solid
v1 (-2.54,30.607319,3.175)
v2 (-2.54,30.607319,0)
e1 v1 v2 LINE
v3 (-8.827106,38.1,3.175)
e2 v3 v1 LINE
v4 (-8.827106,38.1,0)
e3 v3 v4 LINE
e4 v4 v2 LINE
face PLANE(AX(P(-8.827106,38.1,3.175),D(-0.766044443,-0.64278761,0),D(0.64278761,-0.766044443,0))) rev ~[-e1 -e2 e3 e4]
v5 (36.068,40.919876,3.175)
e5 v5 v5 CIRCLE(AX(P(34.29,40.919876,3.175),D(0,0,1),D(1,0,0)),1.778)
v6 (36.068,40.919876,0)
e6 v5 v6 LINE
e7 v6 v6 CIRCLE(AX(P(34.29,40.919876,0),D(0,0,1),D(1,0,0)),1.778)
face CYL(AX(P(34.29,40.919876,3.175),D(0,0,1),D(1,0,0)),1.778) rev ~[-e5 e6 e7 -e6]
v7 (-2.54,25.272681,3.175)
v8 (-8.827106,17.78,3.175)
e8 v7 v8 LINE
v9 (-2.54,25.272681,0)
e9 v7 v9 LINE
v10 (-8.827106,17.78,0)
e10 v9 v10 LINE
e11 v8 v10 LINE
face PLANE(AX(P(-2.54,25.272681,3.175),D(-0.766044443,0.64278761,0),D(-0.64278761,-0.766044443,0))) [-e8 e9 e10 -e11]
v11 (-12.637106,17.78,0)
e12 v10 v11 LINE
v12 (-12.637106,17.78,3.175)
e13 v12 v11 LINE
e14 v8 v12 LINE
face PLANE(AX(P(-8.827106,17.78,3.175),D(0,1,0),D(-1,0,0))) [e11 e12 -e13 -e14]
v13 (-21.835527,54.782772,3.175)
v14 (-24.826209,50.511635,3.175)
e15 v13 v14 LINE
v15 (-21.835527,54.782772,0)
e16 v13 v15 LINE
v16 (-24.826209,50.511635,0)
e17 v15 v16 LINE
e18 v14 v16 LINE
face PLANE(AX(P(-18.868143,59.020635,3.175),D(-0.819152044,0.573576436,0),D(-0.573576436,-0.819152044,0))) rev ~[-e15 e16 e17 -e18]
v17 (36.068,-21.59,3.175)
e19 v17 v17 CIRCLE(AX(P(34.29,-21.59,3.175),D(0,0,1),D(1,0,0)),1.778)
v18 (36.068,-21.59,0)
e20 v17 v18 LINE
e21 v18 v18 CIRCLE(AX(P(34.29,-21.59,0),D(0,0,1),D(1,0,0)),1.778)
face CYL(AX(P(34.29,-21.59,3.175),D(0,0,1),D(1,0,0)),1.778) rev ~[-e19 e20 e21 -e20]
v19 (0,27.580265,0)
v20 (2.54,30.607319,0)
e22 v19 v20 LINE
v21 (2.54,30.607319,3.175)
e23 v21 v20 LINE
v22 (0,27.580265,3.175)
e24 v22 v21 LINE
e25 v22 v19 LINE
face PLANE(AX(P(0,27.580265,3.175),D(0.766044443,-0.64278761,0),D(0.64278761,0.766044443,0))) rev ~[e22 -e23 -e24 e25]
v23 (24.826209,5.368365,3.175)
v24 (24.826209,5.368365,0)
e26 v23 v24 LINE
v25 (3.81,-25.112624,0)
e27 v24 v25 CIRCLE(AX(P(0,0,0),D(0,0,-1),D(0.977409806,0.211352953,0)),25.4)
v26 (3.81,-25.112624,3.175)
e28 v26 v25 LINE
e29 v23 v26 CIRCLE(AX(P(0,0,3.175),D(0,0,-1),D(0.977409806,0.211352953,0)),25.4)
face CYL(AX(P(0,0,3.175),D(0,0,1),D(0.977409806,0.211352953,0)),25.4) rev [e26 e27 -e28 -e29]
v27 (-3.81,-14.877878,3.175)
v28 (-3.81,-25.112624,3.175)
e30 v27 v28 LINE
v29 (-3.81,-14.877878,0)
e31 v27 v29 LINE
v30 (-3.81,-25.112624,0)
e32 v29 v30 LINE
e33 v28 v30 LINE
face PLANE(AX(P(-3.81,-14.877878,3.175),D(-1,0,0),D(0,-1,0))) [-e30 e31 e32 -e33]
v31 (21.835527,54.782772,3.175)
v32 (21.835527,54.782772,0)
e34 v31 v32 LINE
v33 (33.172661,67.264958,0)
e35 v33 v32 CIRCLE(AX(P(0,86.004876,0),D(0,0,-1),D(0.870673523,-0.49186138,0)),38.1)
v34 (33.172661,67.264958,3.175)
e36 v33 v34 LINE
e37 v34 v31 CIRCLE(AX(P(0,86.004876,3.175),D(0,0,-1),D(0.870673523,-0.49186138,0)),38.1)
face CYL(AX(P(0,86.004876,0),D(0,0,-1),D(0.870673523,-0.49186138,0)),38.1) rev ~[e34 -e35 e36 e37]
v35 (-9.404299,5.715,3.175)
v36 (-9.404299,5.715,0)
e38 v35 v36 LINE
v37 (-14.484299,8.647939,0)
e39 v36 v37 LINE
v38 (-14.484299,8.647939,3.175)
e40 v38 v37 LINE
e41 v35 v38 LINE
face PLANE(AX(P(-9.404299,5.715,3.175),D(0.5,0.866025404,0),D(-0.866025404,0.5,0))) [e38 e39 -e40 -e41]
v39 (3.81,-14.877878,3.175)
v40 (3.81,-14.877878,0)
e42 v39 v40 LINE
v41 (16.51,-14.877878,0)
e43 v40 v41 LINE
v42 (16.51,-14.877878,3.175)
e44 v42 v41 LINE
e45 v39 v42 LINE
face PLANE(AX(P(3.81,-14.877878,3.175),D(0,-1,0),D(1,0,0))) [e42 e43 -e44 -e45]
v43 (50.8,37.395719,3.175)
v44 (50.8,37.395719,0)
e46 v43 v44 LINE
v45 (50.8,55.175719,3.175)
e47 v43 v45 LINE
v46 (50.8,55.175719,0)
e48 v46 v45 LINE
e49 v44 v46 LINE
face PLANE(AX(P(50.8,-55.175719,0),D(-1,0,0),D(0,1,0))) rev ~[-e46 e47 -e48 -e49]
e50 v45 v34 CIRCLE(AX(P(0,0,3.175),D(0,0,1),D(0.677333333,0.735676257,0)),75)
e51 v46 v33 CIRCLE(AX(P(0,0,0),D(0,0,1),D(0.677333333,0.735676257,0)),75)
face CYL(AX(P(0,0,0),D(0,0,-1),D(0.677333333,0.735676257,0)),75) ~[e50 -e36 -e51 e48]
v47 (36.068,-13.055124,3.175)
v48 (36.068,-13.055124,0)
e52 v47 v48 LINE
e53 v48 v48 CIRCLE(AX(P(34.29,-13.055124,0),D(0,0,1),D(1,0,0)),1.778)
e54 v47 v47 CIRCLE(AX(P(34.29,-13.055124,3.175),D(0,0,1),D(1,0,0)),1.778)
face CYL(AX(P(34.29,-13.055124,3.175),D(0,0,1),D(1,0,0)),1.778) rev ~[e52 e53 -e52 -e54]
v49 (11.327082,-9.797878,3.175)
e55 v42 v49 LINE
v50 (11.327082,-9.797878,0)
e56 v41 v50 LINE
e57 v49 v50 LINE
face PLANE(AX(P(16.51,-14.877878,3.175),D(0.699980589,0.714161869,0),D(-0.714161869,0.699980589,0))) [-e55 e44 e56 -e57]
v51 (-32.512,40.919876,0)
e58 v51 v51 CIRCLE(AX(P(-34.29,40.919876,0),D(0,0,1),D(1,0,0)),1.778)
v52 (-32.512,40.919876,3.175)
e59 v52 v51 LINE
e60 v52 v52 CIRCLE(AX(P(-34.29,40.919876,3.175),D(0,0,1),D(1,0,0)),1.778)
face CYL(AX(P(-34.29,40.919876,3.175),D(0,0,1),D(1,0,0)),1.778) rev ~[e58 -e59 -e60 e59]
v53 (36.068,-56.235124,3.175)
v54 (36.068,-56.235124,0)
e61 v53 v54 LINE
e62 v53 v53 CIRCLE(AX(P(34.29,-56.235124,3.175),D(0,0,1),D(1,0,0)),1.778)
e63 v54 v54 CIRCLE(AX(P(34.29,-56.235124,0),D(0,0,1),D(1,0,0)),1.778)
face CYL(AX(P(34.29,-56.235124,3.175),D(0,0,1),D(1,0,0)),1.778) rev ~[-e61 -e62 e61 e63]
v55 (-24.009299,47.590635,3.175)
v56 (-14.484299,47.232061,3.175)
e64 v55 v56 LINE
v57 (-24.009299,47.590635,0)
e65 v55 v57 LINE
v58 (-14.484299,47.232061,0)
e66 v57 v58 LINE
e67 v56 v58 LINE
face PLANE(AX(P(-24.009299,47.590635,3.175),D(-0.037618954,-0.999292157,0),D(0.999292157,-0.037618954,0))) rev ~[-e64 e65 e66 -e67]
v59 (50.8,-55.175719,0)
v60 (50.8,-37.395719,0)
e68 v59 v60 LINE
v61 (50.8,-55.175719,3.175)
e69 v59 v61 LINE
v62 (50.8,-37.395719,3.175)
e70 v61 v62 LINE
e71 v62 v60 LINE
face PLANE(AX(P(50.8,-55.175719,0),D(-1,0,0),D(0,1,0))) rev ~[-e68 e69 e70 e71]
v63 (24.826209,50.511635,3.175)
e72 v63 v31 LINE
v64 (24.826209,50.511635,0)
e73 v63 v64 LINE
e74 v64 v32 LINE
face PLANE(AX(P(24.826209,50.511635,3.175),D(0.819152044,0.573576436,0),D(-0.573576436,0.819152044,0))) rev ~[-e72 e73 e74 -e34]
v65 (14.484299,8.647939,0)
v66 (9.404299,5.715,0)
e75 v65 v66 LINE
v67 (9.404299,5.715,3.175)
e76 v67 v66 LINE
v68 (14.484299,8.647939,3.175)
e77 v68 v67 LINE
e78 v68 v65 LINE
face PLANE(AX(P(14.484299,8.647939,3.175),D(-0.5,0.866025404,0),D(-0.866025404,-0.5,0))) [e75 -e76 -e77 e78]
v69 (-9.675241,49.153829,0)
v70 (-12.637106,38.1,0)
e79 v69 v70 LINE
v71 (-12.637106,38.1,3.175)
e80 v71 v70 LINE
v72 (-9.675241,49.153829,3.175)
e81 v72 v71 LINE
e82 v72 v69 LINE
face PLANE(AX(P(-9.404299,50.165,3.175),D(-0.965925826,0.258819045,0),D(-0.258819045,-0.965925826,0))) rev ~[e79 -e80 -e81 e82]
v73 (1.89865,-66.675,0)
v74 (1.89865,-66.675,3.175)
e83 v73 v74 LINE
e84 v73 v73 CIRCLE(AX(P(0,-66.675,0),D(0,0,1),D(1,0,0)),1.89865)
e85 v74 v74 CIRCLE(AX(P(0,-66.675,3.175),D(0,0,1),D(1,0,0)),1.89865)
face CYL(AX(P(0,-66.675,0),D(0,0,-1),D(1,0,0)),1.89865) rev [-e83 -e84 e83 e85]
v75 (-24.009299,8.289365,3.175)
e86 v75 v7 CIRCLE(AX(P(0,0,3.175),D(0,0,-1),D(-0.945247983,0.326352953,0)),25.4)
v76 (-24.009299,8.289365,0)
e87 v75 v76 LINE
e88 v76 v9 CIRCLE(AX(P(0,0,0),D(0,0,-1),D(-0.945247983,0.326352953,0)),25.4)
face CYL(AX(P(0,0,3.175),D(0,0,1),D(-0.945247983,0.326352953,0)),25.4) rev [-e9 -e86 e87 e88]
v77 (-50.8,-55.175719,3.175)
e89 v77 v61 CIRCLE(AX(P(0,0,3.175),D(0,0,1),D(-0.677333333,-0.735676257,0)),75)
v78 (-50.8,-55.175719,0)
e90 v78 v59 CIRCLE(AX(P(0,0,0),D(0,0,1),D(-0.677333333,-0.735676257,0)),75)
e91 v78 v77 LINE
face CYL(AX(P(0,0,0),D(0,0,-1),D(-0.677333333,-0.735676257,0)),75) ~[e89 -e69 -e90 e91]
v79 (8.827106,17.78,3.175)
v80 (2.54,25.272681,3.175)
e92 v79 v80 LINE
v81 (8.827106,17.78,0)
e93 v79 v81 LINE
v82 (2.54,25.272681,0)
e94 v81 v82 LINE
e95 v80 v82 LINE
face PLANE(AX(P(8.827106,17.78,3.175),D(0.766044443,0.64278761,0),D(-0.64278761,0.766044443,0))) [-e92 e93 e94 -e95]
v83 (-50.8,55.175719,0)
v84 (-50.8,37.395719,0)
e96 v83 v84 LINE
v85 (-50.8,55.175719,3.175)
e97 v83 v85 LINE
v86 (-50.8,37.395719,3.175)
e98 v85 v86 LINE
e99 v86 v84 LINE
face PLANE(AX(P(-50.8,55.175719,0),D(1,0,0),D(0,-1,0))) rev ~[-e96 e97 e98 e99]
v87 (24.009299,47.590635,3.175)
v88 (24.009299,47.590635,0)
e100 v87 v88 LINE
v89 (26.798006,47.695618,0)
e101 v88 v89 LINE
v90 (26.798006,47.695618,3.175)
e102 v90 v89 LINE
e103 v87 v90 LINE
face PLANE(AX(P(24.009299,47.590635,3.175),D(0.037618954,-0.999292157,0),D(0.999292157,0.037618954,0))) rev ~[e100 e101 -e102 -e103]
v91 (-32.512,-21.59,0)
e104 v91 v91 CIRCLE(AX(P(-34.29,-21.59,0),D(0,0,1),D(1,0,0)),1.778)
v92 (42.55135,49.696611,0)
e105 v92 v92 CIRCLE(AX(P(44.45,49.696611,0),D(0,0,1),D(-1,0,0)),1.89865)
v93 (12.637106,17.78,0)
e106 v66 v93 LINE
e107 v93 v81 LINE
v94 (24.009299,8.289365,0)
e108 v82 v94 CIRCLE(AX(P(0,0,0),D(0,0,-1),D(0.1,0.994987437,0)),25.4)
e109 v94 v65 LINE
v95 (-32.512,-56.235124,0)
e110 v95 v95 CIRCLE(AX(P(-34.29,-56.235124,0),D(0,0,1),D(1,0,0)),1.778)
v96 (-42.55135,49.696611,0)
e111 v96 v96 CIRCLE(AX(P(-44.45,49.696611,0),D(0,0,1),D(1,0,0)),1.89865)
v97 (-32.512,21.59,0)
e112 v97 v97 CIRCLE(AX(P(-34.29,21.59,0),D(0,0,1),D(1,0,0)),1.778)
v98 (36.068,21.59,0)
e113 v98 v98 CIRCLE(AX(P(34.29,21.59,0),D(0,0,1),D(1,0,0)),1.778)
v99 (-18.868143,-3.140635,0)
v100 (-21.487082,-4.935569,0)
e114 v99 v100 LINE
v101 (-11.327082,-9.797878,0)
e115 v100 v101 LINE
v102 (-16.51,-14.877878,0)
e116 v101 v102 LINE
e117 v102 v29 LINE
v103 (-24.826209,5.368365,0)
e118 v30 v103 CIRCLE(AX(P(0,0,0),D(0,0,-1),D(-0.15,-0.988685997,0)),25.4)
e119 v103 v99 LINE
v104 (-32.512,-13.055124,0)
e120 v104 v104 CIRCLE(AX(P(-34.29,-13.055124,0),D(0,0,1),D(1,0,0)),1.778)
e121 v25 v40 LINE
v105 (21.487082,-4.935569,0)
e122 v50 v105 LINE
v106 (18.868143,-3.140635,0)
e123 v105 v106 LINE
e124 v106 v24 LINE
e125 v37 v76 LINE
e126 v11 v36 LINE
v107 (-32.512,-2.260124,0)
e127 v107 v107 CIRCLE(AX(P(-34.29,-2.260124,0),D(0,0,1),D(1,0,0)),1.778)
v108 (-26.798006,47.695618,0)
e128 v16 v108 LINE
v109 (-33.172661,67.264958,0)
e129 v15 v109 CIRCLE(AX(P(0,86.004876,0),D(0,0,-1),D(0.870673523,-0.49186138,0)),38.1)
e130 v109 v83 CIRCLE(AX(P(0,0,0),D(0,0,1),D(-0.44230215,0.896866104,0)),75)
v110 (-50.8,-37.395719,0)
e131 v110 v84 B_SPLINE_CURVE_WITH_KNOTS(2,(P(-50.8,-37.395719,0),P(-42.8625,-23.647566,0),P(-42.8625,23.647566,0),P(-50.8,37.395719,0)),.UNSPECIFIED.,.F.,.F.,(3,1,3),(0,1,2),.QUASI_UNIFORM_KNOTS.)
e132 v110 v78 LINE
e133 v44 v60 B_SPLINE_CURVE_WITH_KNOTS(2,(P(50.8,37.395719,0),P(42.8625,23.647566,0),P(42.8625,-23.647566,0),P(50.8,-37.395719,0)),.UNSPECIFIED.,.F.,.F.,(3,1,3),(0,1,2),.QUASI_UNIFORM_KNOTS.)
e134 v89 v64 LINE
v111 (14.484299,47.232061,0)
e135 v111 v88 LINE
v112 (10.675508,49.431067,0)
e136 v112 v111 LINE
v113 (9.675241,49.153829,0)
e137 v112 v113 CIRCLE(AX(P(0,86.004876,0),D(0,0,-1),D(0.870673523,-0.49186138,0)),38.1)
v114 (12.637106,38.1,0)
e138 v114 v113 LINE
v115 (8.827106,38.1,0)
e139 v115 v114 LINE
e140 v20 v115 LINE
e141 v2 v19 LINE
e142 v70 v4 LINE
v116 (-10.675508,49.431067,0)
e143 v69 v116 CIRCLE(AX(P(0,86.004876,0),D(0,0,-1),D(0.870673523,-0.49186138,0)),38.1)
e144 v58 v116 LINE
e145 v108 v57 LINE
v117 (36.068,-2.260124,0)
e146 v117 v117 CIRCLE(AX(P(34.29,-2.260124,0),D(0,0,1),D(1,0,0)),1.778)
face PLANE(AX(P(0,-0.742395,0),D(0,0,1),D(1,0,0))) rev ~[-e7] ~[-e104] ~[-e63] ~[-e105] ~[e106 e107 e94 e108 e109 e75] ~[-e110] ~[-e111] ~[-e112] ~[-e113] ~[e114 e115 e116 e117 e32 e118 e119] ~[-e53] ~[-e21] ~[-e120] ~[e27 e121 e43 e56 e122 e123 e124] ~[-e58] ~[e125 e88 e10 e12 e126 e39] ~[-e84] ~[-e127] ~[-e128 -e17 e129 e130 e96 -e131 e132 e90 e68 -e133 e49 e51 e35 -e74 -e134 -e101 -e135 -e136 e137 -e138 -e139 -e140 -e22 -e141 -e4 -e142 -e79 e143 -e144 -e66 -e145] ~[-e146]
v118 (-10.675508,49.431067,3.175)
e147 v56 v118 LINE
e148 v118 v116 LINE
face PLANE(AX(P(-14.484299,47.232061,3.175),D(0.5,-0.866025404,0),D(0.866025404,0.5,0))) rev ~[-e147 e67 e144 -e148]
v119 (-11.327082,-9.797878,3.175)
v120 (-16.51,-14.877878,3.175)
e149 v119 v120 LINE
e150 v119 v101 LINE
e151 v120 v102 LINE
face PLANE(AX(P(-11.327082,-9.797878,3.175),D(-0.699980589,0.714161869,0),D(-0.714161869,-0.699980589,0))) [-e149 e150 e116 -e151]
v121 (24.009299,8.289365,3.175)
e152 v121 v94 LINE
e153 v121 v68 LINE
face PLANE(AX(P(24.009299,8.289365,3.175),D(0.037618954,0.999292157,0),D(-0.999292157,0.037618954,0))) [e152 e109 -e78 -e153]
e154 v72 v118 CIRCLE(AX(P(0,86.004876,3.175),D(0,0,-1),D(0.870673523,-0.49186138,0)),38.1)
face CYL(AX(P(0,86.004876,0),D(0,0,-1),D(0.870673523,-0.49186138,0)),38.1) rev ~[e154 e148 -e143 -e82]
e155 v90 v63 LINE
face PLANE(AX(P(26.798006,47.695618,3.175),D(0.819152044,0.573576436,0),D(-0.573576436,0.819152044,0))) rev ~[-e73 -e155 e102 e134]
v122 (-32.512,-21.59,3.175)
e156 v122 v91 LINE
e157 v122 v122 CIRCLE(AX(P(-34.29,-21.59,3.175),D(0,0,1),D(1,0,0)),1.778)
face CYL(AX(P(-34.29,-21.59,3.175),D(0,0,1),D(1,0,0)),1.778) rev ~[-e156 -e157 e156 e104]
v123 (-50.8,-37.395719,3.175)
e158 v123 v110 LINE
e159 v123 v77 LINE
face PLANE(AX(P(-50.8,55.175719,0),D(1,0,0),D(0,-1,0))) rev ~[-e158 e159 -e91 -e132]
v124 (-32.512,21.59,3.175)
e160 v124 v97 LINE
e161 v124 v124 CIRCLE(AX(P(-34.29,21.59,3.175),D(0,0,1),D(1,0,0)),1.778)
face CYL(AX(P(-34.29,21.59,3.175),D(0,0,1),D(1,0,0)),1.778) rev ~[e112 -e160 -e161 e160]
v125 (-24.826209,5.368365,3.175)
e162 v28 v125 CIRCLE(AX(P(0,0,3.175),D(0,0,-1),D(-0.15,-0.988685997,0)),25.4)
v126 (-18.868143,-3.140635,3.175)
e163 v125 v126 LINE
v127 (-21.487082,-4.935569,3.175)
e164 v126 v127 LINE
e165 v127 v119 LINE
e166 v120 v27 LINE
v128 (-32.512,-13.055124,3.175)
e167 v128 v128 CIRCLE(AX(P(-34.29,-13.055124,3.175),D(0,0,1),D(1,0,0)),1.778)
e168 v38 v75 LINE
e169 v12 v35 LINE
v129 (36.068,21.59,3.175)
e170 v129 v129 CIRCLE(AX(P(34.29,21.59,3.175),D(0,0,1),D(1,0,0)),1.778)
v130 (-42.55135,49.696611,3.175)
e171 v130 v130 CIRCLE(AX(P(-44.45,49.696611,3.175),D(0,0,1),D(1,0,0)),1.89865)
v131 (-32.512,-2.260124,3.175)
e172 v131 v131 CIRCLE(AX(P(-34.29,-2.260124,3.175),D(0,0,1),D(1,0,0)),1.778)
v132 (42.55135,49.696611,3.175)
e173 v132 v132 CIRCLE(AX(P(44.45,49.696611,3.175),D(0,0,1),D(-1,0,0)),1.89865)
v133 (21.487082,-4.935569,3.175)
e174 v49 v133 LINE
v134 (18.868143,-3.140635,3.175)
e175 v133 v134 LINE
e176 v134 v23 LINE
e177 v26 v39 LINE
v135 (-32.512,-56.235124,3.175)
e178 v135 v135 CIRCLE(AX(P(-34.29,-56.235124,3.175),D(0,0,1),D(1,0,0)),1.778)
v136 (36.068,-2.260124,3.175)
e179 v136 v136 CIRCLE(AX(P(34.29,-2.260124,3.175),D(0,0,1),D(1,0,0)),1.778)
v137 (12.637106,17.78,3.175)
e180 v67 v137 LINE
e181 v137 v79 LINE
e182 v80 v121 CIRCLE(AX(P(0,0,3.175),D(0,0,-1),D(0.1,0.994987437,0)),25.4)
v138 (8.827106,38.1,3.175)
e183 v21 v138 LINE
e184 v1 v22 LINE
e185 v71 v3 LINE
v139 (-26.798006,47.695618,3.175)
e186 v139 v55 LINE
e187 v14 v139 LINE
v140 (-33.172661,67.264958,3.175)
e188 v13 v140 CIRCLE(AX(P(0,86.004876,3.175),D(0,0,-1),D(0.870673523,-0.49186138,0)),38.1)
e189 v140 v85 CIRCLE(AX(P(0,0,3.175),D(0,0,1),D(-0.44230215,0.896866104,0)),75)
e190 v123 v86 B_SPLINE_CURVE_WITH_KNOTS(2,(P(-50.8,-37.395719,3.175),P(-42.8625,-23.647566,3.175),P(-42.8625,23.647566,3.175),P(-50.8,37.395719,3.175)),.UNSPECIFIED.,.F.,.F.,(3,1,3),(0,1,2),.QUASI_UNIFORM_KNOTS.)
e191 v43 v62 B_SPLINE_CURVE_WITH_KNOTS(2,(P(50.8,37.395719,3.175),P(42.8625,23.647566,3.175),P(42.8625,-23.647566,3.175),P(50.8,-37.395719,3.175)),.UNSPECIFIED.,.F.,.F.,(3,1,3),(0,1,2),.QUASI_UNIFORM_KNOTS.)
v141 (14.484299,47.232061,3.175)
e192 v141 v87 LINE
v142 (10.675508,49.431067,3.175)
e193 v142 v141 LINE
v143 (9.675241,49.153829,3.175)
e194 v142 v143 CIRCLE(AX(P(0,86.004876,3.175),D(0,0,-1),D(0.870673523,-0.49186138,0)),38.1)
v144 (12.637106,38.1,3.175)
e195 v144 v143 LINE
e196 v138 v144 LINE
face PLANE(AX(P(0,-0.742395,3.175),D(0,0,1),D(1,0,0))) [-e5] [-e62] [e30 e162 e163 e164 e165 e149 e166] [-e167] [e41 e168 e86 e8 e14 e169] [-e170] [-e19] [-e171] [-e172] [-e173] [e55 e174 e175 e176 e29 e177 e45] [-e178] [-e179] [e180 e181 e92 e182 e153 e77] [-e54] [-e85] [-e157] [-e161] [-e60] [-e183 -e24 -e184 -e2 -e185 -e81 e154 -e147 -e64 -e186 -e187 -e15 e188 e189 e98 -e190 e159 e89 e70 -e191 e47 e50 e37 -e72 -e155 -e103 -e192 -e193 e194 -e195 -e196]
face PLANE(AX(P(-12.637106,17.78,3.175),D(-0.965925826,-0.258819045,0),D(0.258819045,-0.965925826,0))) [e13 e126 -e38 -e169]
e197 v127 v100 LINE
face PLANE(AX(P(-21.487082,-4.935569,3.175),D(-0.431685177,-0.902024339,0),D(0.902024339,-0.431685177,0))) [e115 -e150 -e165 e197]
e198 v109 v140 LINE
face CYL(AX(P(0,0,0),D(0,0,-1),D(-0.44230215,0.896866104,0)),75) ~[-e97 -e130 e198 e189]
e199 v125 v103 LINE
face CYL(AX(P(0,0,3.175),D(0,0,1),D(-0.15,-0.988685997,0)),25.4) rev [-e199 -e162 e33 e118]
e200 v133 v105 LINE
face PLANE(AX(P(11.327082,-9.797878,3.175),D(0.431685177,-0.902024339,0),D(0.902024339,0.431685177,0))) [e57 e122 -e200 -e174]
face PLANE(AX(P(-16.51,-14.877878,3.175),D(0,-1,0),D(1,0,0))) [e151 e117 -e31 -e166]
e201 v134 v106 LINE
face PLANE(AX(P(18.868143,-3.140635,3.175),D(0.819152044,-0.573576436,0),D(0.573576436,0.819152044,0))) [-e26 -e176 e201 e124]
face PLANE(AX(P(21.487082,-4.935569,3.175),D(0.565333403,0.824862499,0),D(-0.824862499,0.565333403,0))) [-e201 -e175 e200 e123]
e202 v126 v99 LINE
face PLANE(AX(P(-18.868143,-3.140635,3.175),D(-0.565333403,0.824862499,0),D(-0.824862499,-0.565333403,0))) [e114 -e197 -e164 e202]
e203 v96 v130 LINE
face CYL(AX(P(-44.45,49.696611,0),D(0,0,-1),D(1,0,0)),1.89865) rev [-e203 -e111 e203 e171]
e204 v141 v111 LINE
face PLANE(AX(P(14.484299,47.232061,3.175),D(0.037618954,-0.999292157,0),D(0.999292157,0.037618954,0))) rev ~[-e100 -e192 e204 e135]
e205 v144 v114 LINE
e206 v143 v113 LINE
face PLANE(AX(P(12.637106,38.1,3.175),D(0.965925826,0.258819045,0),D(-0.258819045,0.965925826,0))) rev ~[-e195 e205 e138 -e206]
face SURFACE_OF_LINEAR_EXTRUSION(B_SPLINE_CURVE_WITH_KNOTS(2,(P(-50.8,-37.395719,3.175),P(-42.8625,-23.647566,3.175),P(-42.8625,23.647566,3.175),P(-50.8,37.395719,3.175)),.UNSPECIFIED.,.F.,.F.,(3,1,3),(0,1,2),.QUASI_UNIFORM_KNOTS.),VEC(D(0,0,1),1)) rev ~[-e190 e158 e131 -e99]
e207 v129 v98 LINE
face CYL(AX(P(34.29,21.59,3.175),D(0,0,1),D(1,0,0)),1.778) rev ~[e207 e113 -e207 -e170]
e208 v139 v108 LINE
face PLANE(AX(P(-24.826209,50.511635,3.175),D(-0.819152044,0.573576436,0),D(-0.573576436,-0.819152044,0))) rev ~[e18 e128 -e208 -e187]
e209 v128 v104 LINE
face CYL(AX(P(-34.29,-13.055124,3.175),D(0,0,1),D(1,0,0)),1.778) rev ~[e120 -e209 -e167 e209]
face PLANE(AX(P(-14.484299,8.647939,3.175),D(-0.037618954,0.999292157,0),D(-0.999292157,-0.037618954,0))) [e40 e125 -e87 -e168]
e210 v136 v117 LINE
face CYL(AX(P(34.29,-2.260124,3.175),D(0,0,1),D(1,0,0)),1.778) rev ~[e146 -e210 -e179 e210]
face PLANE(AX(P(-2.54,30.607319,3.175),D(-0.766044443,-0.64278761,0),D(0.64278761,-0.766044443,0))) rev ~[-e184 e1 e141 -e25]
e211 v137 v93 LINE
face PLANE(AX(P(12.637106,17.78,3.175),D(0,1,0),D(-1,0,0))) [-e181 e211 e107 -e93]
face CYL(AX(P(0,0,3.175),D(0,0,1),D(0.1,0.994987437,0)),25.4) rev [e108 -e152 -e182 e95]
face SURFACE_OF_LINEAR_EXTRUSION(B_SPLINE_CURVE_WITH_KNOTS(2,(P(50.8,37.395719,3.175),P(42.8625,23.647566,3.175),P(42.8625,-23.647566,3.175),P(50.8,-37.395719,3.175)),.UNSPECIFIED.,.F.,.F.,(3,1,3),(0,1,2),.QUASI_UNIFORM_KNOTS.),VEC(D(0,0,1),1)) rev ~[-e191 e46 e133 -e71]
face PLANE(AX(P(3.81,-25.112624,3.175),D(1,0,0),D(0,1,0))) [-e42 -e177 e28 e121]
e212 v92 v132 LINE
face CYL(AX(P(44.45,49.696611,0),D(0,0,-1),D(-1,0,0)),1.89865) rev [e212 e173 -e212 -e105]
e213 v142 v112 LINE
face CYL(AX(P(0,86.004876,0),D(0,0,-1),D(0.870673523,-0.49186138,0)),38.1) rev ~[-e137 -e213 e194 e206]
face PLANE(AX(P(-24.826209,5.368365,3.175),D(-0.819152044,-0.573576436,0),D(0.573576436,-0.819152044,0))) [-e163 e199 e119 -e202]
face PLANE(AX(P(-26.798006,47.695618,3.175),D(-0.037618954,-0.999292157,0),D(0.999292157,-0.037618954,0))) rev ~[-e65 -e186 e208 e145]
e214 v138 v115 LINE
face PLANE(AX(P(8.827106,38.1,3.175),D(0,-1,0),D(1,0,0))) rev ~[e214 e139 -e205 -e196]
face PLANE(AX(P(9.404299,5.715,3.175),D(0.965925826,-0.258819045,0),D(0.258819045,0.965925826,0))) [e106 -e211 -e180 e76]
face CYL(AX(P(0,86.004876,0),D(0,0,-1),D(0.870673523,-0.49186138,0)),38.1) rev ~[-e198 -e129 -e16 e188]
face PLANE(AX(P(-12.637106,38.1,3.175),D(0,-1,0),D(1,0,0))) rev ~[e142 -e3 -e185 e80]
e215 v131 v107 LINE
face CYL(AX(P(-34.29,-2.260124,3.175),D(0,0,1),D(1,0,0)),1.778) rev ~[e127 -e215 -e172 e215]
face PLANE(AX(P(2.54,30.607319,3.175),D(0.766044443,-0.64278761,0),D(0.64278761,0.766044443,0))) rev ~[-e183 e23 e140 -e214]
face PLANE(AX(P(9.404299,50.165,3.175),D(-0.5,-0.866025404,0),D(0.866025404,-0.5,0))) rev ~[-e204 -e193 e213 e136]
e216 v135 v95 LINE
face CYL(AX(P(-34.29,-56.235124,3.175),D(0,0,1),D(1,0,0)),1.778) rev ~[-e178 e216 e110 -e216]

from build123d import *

# Parameters (mm, degrees)
SKETCH1_R           = 1.89865
BOSS_EXTRUDE3_DEPTH = 3.175
CUT_EXTRUDE2_DEPTH  = 3.175
SKETCH4_R           = 1.778
CUT_EXTRUDE3_DEPTH  = 3.175
SKETCH5_R           = 1.778
CUT_EXTRUDE4_DEPTH  = 3.175
CUT_EXTRUDE5_DEPTH  = 3.175
CUT_EXTRUDE6_DEPTH  = 3.175


with BuildPart() as part:
    # Sketch1 → Boss-Extrude3 (new body)
    with BuildSketch(Plane.XY):
        with BuildLine():
            Line((-50.8, 55.175719298), (-50.8, -55.175719298))
            ThreePointArc((-50.8, -55.175719298), (0, -75), (50.8, -55.175719298))
            Line((50.8, -55.175719298), (50.8, 55.175719298))
            ThreePointArc((50.8, 55.175719298), (42.419210034, 61.851520758), (33.172661219, 67.264957799))
            ThreePointArc((33.172661219, 67.264957799), (0, 47.904876359), (-33.172661219, 67.264957799))
            ThreePointArc((-33.172661219, 67.264957799), (-42.419210034, 61.851520758), (-50.8, 55.175719298))
        make_face()
        with Locations((0, -66.675)):
            Circle(SKETCH1_R, mode=Mode.SUBTRACT)
        with Locations((-44.45, 49.6966108)):
            Circle(SKETCH1_R, mode=Mode.SUBTRACT)
        with Locations(Location((44.45, 49.6966108, 0), (0, 0, 180))):
            Circle(SKETCH1_R, mode=Mode.SUBTRACT)
    extrude(amount=BOSS_EXTRUDE3_DEPTH)

    # Sketch3 → Cut-Extrude2 (cut)
    with BuildSketch(Plane.XY.offset(3.175)):
        with BuildLine():
            Line((8.827105782, 17.78), (2.54, 25.272680903))
            ThreePointArc((2.54, 25.272680903), (15.758317518, 19.920728626), (24.009298775, 8.289365013))
            Line((24.009298775, 8.289365013), (14.484298775, 8.647939367))
            Line((14.484298775, 8.647939367), (9.404298775, 5.715))
            Line((9.404298775, 5.715), (12.637105782, 17.78))
            Line((12.637105782, 17.78), (8.827105782, 17.78))
        make_face()
        with BuildLine():
            Line((18.868143133, -3.140634987), (24.826209076, 5.368365013))
            ThreePointArc((24.826209076, 5.368365013), (20.911260009, -14.418016674), (3.81, -25.112624315))
            Line((3.81, -25.112624315), (3.81, -14.877877919))
            Line((3.81, -14.877877919), (16.51, -14.877877919))
            Line((16.51, -14.877877919), (11.327081569, -9.797877919))
            Line((11.327081569, -9.797877919), (21.487081569, -4.935568543))
            Line((21.487081569, -4.935568543), (18.868143133, -3.140634987))
        make_face()
        with BuildLine():
            Line((-3.81, -14.877877919), (-3.81, -25.112624315))
            ThreePointArc((-3.81, -25.112624315), (-20.911260009, -14.418016674), (-24.826209076, 5.368365013))
            Line((-24.826209076, 5.368365013), (-18.868143133, -3.140634987))
            Line((-18.868143133, -3.140634987), (-21.487081569, -4.935568543))
            Line((-21.487081569, -4.935568543), (-11.327081569, -9.797877919))
            Line((-11.327081569, -9.797877919), (-16.51, -14.877877919))
            Line((-16.51, -14.877877919), (-3.81, -14.877877919))
        make_face()
        with BuildLine():
            Line((-14.484298775, 8.647939367), (-24.009298775, 8.289365013))
            ThreePointArc((-24.009298775, 8.289365013), (-15.758317518, 19.920728626), (-2.54, 25.272680903))
            Line((-2.54, 25.272680903), (-8.827105782, 17.78))
            Line((-8.827105782, 17.78), (-12.637105782, 17.78))
            Line((-12.637105782, 17.78), (-9.404298775, 5.715))
            Line((-9.404298775, 5.715), (-14.484298775, 8.647939367))
        make_face()
    extrude(amount=-CUT_EXTRUDE2_DEPTH, mode=Mode.SUBTRACT)

    # Sketch4 → Cut-Extrude3 (cut)
    with BuildSketch(Plane.XY.offset(3.175)):
        with Locations((-34.29, 40.919876359)):
            Circle(SKETCH4_R)
        with Locations((34.29, 40.919876359)):
            Circle(SKETCH4_R)
        with Locations((34.29, -2.260123641)):
            Circle(SKETCH4_R)
        with Locations((-34.29, -2.260123641)):
            Circle(SKETCH4_R)
        with Locations((-34.29, -13.055123641)):
            Circle(SKETCH4_R)
        with Locations((34.29, -13.055123641)):
            Circle(SKETCH4_R)
        with Locations((34.29, -56.235123641)):
            Circle(SKETCH4_R)
        with Locations((-34.29, -56.235123641)):
            Circle(SKETCH4_R)
    extrude(amount=-CUT_EXTRUDE3_DEPTH, mode=Mode.SUBTRACT)

    # Sketch5 → Cut-Extrude4 (cut)
    with BuildSketch(Plane.XY.offset(3.175)):
        with Locations((-34.29, 21.59)):
            Circle(SKETCH5_R)
        with Locations((34.29, 21.59)):
            Circle(SKETCH5_R)
        with Locations((34.29, -21.59)):
            Circle(SKETCH5_R)
        with Locations((-34.29, -21.59)):
            Circle(SKETCH5_R)
    extrude(amount=-CUT_EXTRUDE4_DEPTH, mode=Mode.SUBTRACT)

    # Sketch6 → Cut-Extrude5 (cut)
    with BuildSketch(Plane.XY.offset(3.175)):
        Polygon((-8.827105782, 38.1), (-2.54, 30.607319097), (0, 27.580264972), (2.54, 30.607319097), (8.827105782, 38.1), (12.637105782, 38.1), (9.404298775, 50.165), (14.484298775, 47.232060633), (24.009298775, 47.590634987), (26.798005722, 47.695617537), (24.826209076, 50.511634987), (18.868143133, 59.020634987), (-18.868143133, 59.020634987), (-24.826209076, 50.511634987), (-26.798005722, 47.695617537), (-24.009298775, 47.590634987), (-14.484298775, 47.232060633), (-9.404298775, 50.165), (-12.637105782, 38.1), align=None)
    extrude(amount=-CUT_EXTRUDE5_DEPTH, mode=Mode.SUBTRACT)

    # Sketch7 → Cut-Extrude6 (cut)
    with BuildSketch(Plane.XY.offset(3.175)):
        with BuildLine():
            Line((-50.8, 37.395719298), (-50.8, -37.395719298))
            add(Edge.make_bspline(
                [(-50.8, -37.395719298), (-42.8625, -23.647566012), (-42.8625, 0)],
                knots=[0, 0, 0, 1, 1, 1], degree=2))
            add(Edge.make_bspline(
                [(-50.8, 37.395719298), (-42.8625, 23.647566012), (-42.8625, 0)],
                knots=[0, 0, 0, 1, 1, 1], degree=2))
        make_face()
        with BuildLine():
            Line((50.8, 37.395719298), (50.8, -37.395719298))
            add(Edge.make_bspline(
                [(50.8, -37.395719298), (42.8625, -23.647566012), (42.8625, 0)],
                knots=[0, 0, 0, 1, 1, 1], degree=2))
            add(Edge.make_bspline(
                [(50.8, 37.395719298), (42.8625, 23.647566012), (42.8625, 0)],
                knots=[0, 0, 0, 1, 1, 1], degree=2))
        make_face()
    extrude(amount=-CUT_EXTRUDE6_DEPTH, mode=Mode.SUBTRACT)


solid = part.part
